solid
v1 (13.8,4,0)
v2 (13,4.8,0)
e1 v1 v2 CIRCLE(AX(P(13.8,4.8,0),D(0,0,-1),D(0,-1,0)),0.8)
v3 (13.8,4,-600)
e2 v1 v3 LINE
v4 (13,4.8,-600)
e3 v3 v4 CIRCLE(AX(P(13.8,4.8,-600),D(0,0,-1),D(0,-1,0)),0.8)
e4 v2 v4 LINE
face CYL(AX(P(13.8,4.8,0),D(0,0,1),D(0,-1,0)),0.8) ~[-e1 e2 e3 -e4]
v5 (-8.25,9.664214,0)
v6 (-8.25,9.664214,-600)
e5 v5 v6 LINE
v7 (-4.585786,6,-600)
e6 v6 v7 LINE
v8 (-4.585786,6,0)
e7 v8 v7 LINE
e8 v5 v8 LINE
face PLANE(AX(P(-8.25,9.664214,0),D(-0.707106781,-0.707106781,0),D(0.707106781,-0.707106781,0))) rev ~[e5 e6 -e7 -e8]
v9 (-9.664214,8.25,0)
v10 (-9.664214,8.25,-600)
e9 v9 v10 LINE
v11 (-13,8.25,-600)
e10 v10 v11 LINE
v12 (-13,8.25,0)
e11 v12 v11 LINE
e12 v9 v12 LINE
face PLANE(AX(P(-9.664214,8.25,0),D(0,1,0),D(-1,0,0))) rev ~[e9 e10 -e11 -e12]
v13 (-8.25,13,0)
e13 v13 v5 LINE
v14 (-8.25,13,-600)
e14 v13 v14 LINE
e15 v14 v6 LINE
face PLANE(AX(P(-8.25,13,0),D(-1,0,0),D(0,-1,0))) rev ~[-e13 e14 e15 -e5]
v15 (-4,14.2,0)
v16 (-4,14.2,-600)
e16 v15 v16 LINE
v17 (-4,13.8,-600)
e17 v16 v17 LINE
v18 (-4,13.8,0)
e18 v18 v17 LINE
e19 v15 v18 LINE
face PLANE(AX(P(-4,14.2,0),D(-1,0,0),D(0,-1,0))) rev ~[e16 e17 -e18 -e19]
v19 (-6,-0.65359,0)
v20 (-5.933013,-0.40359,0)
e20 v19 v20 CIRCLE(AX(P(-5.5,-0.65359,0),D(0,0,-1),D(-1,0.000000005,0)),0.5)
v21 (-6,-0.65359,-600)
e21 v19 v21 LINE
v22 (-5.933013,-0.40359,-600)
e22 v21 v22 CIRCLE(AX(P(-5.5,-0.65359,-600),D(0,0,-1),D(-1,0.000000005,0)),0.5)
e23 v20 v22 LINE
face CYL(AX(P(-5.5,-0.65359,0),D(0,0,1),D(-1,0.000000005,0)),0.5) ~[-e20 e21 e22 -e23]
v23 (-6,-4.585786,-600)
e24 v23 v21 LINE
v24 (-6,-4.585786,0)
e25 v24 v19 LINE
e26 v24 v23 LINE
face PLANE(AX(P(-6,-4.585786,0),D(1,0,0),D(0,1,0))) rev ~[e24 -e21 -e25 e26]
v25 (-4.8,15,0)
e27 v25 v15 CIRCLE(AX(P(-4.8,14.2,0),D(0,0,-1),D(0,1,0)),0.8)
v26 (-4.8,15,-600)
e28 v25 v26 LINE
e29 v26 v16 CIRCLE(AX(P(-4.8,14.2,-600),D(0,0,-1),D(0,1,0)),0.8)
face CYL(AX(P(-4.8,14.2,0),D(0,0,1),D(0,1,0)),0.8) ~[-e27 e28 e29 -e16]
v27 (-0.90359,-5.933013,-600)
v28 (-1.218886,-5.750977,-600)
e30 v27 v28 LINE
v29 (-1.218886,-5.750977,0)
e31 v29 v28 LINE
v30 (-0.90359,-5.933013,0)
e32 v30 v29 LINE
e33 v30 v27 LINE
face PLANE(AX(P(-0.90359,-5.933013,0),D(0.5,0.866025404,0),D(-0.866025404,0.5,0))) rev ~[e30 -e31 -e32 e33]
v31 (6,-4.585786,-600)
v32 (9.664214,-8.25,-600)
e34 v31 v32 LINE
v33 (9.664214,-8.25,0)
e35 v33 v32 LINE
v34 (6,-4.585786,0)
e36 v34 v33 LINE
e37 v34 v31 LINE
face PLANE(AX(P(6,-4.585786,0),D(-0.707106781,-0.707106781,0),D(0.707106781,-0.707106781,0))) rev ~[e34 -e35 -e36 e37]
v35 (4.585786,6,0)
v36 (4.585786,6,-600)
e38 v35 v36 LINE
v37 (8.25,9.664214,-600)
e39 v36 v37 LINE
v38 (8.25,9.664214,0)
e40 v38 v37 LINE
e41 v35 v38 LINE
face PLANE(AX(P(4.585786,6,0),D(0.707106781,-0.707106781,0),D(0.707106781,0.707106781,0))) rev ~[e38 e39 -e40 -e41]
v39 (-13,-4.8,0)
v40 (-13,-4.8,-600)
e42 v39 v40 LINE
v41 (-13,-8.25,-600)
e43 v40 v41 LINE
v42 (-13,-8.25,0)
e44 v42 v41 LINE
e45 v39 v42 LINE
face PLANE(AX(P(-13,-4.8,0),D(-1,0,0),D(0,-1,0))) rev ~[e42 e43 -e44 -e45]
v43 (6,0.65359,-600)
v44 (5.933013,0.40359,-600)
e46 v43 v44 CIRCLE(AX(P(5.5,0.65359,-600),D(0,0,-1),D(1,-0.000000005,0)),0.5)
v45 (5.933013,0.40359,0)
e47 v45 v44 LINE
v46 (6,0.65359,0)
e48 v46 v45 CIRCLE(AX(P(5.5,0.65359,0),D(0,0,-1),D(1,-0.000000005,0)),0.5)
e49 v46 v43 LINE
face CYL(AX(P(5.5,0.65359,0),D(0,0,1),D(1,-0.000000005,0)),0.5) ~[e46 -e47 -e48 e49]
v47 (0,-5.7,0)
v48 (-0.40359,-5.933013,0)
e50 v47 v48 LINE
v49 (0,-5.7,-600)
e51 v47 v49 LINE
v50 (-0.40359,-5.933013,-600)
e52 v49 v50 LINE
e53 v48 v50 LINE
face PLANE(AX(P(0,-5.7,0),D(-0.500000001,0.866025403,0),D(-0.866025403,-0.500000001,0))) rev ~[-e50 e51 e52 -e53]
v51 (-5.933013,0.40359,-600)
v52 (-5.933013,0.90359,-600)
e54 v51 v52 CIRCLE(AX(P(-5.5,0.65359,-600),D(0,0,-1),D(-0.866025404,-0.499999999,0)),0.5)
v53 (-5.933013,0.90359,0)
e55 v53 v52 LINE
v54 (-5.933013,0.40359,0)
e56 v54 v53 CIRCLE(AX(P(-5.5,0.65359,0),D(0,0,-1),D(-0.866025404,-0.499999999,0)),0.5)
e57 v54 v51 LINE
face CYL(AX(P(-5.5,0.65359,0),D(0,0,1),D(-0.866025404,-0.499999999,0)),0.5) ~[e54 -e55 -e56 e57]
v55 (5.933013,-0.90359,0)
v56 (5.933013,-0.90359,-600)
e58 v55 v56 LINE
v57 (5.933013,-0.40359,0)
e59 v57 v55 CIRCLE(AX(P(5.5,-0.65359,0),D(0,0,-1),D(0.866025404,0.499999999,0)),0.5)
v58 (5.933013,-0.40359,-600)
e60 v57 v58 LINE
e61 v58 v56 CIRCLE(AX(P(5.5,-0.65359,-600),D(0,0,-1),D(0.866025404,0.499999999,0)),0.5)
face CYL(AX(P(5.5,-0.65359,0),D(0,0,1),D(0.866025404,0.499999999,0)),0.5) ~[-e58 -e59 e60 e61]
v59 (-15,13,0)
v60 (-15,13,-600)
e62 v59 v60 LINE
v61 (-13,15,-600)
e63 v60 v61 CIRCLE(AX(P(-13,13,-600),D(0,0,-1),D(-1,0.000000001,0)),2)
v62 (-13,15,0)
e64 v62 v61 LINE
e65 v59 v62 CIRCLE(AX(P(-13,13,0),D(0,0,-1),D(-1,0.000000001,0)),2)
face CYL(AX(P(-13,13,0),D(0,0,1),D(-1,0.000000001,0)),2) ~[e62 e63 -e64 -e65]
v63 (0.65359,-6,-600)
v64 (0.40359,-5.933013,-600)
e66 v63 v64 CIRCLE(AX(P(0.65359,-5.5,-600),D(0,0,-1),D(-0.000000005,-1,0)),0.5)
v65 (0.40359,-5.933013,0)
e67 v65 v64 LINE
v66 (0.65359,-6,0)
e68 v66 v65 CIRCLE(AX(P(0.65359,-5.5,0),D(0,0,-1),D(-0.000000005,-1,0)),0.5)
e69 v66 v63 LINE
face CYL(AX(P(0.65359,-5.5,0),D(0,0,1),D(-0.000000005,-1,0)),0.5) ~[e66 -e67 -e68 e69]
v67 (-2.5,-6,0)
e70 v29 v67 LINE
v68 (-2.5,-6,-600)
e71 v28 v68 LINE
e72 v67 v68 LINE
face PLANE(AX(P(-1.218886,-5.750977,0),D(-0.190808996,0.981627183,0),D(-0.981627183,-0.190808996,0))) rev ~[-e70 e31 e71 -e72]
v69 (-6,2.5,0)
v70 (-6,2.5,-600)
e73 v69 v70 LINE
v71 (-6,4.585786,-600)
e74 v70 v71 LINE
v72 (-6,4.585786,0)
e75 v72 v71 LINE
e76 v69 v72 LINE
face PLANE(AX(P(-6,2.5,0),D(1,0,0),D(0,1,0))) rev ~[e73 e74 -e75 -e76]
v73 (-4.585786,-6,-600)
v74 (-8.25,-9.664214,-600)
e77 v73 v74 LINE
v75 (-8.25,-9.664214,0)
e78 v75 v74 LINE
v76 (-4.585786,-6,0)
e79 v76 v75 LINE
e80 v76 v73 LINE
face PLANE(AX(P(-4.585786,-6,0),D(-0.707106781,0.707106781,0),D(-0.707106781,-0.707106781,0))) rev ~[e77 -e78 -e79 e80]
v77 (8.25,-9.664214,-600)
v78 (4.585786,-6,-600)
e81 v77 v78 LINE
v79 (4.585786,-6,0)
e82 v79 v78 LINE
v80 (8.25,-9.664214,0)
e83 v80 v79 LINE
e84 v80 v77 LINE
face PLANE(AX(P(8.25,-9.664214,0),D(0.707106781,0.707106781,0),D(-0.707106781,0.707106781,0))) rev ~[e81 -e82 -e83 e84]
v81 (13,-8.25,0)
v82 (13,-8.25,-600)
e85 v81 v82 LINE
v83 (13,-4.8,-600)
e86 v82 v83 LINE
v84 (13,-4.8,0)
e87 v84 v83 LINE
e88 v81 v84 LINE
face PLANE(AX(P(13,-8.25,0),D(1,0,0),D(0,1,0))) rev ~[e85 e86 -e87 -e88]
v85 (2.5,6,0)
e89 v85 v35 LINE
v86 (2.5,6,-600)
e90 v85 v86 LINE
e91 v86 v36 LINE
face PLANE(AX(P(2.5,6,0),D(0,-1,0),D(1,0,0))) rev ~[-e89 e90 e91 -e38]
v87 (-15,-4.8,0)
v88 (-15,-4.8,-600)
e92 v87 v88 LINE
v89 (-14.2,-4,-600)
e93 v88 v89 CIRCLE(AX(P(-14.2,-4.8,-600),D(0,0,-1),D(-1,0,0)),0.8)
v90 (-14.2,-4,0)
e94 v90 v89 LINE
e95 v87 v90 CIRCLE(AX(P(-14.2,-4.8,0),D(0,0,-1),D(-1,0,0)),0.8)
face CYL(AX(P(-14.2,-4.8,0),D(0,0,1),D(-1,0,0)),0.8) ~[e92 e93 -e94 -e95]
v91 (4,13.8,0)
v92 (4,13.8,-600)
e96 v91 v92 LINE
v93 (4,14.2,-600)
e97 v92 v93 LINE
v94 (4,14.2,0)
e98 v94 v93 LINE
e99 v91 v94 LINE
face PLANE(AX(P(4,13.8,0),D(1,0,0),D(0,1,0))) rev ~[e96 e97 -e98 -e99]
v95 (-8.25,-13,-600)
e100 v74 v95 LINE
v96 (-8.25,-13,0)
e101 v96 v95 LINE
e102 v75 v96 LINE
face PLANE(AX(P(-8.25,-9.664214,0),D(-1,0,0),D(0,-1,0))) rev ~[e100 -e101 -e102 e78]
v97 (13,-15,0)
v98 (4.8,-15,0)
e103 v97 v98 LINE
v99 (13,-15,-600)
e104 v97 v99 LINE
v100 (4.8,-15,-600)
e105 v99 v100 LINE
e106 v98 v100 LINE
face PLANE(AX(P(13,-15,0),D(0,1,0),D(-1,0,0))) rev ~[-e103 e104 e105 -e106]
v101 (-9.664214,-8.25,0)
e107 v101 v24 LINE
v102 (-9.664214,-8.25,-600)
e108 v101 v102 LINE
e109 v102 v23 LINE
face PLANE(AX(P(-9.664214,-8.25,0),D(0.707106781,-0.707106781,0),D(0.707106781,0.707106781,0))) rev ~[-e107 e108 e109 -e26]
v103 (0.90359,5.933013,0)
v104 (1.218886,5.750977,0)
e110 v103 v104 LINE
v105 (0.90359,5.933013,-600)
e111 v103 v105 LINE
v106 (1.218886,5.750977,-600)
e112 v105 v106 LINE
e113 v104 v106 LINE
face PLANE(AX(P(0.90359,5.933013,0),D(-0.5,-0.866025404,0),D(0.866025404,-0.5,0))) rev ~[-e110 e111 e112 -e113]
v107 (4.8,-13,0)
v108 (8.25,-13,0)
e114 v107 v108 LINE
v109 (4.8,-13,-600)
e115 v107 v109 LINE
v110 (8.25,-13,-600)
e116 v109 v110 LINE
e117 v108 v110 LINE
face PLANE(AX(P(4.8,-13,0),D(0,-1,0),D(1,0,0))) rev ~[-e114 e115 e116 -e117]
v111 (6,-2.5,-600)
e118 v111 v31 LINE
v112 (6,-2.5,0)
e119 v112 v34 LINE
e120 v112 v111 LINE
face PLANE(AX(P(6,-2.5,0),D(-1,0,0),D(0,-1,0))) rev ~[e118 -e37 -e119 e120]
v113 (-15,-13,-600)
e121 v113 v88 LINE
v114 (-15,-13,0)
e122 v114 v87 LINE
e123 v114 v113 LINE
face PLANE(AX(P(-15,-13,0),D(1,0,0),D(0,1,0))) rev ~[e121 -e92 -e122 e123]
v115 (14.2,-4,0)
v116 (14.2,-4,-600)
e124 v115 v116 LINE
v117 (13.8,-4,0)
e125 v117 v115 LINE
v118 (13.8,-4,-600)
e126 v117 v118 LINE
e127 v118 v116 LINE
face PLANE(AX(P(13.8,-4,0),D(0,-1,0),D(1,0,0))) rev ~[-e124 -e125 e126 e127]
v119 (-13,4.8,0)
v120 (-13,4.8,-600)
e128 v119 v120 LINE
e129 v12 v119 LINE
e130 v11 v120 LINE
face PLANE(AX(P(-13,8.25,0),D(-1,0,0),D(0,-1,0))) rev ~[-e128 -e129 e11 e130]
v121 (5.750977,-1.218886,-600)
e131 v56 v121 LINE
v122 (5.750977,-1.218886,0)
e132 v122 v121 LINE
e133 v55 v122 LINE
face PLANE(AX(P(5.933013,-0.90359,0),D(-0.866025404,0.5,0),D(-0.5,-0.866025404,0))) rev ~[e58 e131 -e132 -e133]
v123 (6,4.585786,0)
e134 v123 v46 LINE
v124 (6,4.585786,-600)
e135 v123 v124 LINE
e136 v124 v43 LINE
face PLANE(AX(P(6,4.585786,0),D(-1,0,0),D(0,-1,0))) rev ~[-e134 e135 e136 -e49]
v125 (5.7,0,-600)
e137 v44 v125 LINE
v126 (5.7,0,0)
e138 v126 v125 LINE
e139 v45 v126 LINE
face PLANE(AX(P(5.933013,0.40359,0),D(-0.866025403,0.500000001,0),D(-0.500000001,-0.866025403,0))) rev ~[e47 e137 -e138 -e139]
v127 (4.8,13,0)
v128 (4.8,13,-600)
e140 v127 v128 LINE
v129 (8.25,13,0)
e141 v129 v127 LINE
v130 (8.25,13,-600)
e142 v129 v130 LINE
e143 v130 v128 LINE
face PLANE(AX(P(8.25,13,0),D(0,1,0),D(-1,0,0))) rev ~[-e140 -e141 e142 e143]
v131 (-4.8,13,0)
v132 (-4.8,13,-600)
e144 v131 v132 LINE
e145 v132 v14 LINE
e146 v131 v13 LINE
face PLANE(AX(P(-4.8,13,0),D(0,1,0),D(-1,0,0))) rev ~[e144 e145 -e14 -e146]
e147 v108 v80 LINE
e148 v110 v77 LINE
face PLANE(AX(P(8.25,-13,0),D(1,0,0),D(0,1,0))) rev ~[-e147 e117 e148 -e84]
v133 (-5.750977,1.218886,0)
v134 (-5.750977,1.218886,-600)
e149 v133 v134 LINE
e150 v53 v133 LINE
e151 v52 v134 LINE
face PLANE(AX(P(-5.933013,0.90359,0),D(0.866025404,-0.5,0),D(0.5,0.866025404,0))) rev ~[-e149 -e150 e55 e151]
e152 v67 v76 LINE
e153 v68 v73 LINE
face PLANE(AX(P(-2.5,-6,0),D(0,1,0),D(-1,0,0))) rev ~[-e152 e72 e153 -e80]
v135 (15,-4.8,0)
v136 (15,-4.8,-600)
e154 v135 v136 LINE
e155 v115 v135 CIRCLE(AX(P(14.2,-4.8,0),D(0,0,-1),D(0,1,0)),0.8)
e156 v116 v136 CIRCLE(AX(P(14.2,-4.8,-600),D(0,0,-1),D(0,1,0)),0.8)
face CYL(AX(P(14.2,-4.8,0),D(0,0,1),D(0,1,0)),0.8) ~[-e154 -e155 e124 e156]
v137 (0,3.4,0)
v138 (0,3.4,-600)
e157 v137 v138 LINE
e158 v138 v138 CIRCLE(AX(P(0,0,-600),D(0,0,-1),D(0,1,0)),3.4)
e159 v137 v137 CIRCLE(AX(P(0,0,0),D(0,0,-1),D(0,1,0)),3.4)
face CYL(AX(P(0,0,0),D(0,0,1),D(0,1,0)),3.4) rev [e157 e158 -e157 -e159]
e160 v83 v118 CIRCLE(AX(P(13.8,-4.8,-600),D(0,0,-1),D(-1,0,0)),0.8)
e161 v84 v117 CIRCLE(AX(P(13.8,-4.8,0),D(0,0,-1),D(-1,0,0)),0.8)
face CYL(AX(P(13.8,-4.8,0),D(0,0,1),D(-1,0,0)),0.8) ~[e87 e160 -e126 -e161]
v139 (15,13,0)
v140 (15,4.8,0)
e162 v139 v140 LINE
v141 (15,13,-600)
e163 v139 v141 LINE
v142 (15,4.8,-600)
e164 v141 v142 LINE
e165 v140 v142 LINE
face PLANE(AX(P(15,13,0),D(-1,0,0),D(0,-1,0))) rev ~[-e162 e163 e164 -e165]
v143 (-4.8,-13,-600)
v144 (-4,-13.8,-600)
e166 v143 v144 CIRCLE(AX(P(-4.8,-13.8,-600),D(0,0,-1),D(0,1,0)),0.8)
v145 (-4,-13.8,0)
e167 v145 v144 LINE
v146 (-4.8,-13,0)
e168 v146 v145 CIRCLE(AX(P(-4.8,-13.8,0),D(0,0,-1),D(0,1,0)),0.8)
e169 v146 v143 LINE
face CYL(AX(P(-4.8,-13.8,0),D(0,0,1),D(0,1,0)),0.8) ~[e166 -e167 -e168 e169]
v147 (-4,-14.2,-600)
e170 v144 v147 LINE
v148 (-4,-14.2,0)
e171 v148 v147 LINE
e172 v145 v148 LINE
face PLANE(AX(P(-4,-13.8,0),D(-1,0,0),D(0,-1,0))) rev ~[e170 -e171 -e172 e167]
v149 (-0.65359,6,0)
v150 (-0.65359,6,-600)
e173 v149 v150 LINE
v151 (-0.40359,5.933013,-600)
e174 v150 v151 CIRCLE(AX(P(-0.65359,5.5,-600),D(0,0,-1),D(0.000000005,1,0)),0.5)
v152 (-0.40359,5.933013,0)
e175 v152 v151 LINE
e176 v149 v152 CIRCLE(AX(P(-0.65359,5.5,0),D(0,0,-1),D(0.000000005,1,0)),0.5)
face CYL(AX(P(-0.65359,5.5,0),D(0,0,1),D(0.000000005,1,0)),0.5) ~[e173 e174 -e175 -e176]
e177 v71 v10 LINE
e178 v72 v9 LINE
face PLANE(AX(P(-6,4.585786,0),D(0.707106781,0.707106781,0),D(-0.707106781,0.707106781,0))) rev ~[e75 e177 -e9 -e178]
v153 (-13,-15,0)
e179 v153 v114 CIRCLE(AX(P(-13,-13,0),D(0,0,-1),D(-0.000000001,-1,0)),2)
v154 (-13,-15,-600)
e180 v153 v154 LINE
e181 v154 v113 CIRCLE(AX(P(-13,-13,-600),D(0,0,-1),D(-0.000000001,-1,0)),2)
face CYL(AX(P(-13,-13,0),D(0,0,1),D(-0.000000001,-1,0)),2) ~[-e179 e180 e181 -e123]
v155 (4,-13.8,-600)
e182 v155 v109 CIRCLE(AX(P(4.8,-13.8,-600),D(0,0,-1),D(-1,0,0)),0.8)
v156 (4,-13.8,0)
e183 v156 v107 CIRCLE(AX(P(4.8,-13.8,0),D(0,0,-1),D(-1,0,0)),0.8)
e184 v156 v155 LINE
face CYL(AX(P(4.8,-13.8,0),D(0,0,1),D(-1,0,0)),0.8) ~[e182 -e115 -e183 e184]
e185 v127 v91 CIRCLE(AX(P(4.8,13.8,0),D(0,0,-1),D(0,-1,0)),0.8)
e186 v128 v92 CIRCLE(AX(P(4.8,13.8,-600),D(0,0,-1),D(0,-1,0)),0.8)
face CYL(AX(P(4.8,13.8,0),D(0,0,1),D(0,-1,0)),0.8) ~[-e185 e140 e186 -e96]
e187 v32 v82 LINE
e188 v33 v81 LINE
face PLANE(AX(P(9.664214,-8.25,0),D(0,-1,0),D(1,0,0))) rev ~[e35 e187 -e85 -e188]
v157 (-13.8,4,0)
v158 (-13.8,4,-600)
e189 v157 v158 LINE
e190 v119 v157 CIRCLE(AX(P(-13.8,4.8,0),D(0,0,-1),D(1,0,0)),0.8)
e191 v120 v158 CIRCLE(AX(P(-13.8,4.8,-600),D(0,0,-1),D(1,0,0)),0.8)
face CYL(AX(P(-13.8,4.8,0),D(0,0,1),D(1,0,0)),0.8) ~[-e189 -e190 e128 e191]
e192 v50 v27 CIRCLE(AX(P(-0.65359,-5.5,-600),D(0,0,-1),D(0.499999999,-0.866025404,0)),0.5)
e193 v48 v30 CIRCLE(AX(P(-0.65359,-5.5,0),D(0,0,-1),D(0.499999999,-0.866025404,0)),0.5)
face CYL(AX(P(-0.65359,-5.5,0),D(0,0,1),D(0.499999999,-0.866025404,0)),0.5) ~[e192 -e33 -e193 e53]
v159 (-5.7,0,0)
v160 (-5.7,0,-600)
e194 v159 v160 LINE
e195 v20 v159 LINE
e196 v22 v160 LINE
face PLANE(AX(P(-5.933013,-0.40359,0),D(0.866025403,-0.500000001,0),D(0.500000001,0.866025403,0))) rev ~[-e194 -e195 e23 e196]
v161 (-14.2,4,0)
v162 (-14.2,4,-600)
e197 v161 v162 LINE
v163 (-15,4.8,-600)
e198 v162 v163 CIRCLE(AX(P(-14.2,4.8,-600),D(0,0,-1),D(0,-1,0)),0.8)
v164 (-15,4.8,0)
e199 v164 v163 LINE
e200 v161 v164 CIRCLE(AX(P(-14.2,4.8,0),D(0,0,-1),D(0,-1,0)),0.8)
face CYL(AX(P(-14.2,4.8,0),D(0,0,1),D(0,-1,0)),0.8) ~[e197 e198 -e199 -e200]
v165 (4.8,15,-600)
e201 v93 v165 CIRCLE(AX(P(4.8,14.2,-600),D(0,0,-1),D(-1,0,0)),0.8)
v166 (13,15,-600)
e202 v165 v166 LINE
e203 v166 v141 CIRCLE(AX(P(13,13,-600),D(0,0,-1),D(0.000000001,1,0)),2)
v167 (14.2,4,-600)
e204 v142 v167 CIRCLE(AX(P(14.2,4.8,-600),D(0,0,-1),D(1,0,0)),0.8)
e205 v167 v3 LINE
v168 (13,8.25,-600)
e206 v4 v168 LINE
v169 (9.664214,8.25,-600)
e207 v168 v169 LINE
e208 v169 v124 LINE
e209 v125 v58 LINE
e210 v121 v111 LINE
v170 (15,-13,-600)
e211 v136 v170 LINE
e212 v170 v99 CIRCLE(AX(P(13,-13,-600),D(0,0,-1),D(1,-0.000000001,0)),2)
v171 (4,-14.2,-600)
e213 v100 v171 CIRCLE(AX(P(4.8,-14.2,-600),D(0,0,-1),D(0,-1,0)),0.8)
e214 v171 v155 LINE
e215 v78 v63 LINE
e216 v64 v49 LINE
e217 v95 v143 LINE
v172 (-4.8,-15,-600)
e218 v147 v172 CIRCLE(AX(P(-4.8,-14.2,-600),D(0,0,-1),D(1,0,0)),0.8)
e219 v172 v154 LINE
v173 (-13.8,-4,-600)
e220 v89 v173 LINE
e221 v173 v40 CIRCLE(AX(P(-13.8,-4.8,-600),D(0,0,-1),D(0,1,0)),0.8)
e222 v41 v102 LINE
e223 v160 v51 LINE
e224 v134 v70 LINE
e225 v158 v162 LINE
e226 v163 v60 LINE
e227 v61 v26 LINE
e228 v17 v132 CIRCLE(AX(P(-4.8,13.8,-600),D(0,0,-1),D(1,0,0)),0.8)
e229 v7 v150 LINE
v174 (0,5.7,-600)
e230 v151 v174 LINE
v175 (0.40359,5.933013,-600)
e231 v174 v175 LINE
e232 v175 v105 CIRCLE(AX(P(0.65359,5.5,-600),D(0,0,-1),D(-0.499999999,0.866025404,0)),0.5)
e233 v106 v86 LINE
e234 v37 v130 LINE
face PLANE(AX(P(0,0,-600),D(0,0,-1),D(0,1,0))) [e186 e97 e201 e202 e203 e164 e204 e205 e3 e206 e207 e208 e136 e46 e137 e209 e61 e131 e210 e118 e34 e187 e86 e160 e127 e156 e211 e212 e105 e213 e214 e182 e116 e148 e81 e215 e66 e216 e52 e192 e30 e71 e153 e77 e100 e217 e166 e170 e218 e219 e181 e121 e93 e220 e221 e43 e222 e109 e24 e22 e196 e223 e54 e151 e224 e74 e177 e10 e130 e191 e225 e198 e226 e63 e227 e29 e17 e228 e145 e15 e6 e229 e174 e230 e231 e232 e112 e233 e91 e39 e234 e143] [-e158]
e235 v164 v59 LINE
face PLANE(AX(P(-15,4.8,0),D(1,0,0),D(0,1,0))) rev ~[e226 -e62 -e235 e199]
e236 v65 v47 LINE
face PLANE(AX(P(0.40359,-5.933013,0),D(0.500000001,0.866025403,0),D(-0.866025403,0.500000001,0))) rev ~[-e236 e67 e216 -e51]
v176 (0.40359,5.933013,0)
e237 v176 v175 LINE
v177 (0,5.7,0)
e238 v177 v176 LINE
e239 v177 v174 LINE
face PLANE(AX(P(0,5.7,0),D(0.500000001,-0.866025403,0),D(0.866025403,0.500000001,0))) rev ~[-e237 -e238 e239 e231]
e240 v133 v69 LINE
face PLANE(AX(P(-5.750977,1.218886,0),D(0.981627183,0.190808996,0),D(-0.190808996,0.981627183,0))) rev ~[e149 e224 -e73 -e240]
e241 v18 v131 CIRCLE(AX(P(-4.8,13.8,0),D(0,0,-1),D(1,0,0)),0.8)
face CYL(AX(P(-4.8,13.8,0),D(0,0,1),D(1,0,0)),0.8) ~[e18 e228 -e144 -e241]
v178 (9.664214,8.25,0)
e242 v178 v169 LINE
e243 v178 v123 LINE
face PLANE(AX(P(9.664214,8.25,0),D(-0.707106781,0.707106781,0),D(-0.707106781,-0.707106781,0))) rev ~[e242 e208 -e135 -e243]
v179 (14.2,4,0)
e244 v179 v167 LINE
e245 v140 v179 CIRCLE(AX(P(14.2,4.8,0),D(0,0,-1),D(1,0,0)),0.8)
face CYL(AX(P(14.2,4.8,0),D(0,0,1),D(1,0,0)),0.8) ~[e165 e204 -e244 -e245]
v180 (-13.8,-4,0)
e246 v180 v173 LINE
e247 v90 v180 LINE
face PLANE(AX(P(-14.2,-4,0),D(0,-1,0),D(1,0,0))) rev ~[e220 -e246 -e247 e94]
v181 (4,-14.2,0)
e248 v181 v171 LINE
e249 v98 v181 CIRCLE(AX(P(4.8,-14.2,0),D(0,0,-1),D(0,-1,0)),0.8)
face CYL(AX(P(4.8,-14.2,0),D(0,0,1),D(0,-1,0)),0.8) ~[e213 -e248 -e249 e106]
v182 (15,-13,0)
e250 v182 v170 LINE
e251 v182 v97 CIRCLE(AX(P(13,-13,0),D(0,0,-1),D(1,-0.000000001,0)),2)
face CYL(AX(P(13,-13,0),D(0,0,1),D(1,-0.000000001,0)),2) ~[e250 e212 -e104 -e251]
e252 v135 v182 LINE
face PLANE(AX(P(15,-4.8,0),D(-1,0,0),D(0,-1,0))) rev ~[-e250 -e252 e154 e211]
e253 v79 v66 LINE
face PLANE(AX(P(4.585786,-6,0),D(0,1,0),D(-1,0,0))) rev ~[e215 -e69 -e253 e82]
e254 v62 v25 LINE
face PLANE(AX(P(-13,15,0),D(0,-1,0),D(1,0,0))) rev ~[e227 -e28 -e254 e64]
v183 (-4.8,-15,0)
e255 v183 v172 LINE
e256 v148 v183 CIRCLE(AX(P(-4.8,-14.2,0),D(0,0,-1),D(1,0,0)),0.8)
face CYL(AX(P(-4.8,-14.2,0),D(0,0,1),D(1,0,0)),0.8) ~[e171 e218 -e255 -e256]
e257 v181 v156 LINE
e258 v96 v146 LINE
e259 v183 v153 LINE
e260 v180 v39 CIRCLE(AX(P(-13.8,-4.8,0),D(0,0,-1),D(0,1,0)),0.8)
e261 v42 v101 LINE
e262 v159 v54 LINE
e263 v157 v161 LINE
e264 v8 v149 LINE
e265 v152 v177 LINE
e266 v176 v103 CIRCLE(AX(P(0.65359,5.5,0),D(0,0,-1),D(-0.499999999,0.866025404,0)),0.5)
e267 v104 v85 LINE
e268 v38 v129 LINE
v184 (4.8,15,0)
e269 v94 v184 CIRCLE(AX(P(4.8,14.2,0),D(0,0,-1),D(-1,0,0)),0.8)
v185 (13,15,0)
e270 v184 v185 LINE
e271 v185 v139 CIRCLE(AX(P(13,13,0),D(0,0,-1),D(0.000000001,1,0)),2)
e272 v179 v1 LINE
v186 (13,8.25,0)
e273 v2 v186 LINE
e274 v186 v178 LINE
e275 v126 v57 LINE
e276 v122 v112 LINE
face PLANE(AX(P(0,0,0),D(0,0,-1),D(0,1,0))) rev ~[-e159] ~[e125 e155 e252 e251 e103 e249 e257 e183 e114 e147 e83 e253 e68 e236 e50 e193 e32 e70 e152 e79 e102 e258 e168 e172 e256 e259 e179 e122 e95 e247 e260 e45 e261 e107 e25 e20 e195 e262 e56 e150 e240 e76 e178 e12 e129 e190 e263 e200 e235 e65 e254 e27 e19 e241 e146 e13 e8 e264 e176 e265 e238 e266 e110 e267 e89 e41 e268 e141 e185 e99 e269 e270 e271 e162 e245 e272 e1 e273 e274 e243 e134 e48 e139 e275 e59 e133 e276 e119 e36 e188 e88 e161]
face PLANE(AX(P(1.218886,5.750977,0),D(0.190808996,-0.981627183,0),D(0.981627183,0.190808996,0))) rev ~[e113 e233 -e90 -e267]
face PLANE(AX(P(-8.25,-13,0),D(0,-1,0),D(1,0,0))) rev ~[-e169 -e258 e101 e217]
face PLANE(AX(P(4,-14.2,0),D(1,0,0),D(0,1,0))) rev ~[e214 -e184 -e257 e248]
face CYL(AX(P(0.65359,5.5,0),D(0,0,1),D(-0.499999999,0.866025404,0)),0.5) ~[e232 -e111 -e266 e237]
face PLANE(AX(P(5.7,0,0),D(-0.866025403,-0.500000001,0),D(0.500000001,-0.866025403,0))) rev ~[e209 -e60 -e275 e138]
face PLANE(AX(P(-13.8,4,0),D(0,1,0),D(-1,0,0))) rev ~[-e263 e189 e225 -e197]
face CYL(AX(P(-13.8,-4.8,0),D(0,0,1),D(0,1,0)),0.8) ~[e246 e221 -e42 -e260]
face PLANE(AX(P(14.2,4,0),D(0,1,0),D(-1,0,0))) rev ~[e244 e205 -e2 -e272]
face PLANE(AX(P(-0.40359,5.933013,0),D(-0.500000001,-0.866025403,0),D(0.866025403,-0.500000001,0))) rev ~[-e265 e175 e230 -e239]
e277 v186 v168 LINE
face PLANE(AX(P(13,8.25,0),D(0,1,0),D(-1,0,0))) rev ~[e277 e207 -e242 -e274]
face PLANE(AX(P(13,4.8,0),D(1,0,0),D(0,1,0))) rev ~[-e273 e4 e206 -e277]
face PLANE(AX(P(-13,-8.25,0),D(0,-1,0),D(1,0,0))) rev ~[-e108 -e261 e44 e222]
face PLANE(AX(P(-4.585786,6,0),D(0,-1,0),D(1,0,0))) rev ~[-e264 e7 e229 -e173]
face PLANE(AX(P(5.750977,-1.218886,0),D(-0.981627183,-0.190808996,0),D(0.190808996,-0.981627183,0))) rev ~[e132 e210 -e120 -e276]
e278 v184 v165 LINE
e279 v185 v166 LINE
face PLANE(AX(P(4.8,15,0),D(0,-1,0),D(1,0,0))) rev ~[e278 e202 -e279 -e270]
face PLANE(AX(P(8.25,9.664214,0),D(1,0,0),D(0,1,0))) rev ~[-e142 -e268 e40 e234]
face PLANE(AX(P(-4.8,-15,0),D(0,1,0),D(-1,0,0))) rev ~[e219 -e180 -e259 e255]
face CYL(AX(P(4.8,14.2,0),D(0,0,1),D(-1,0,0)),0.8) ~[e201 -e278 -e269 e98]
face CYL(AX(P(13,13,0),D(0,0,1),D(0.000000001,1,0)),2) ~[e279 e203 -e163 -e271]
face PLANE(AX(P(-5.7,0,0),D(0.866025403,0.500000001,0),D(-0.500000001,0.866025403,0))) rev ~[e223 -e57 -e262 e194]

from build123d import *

# Parameters (mm, degrees)
SKETCH_11_R            = 3.4
F_30_X_30_X_R2_1_DEPTH = 600


with BuildPart() as part:
    # 草图11 → 铝型材 30 X 30 X R2(1) (new body)
    with BuildSketch(Plane.YX):
        with BuildLine():
            Line((-15, -4.8), (-15, -13))
            ThreePointArc((-15, -13), (-14.414213562, -14.414213562), (-13, -15))
            Line((-13, -15), (-4.8, -15))
            ThreePointArc((-4.8, -15), (-4.234314575, -14.765685425), (-4, -14.2))
            Line((-4, -14.2), (-4, -13.8))
            ThreePointArc((-4, -13.8), (-4.234314575, -13.234314575), (-4.8, -13))
            Line((-4.8, -13), (-8.25, -13))
            Line((-8.25, -13), (-8.25, -9.664213562))
            Line((-8.25, -9.664213562), (-4.585786438, -6))
            Line((-4.585786438, -6), (-0.653589838, -6))
            ThreePointArc((-0.653589838, -6), (-0.524180316, -5.982962913), (-0.403589838, -5.933012702))
            Line((-0.403589838, -5.933012702), (0, -5.7))
            Line((0, -5.7), (0.403589838, -5.933012702))
            ThreePointArc((0.403589838, -5.933012702), (0.653589838, -6), (0.903589838, -5.933012702))
            Line((0.903589838, -5.933012702), (1.218885629, -5.750976592))
            Line((1.218885629, -5.750976592), (2.5, -6))
            Line((2.5, -6), (4.585786438, -6))
            Line((4.585786438, -6), (8.25, -9.664213562))
            Line((8.25, -9.664213562), (8.25, -13))
            Line((8.25, -13), (4.8, -13))
            ThreePointArc((4.8, -13), (4.234314575, -13.234314575), (4, -13.8))
            Line((4, -13.8), (4, -14.2))
            ThreePointArc((4, -14.2), (4.234314575, -14.765685425), (4.8, -15))
            Line((4.8, -15), (13, -15))
            ThreePointArc((13, -15), (14.414213562, -14.414213562), (15, -13))
            Line((15, -13), (15, -4.8))
            ThreePointArc((15, -4.8), (14.765685425, -4.234314575), (14.2, -4))
            Line((14.2, -4), (13.8, -4))
            ThreePointArc((13.8, -4), (13.234314575, -4.234314575), (13, -4.8))
            Line((13, -4.8), (13, -8.25))
            Line((13, -8.25), (9.664213562, -8.25))
            Line((9.664213562, -8.25), (6, -4.585786438))
            Line((6, -4.585786438), (6, -0.653589838))
            ThreePointArc((6, -0.653589838), (5.982962913, -0.524180316), (5.933012702, -0.403589838))
            Line((5.933012702, -0.403589838), (5.7, 0))
            Line((5.7, 0), (5.933012702, 0.403589838))
            ThreePointArc((5.933012702, 0.403589838), (6, 0.653589838), (5.933012702, 0.903589838))
            Line((5.933012702, 0.903589838), (5.750976592, 1.218885629))
            Line((5.750976592, 1.218885629), (6, 2.5))
            Line((6, 2.5), (6, 4.585786438))
            Line((6, 4.585786438), (9.664213562, 8.25))
            Line((9.664213562, 8.25), (13, 8.25))
            Line((13, 8.25), (13, 4.8))
            ThreePointArc((13, 4.8), (13.234314575, 4.234314575), (13.8, 4))
            Line((13.8, 4), (14.2, 4))
            ThreePointArc((14.2, 4), (14.765685425, 4.234314575), (15, 4.8))
            Line((15, 4.8), (15, 13))
            ThreePointArc((15, 13), (14.414213562, 14.414213562), (13, 15))
            Line((13, 15), (4.8, 15))
            ThreePointArc((4.8, 15), (4.234314575, 14.765685425), (4, 14.2))
            Line((4, 14.2), (4, 13.8))
            ThreePointArc((4, 13.8), (4.234314575, 13.234314575), (4.8, 13))
            Line((4.8, 13), (8.25, 13))
            Line((8.25, 13), (8.25, 9.664213562))
            Line((8.25, 9.664213562), (4.585786438, 6))
            Line((4.585786438, 6), (0.653589838, 6))
            ThreePointArc((0.653589838, 6), (0.524180316, 5.982962913), (0.403589838, 5.933012702))
            Line((0.403589838, 5.933012702), (0, 5.7))
            Line((0, 5.7), (-0.403589838, 5.933012702))
            ThreePointArc((-0.403589838, 5.933012702), (-0.653589838, 6), (-0.903589838, 5.933012702))
            Line((-0.903589838, 5.933012702), (-1.218885629, 5.750976592))
            Line((-1.218885629, 5.750976592), (-2.5, 6))
            Line((-2.5, 6), (-4.585786438, 6))
            Line((-4.585786438, 6), (-8.25, 9.664213562))
            Line((-8.25, 9.664213562), (-8.25, 13))
            Line((-8.25, 13), (-4.8, 13))
            ThreePointArc((-4.8, 13), (-4.234314575, 13.234314575), (-4, 13.8))
            Line((-4, 13.8), (-4, 14.2))
            ThreePointArc((-4, 14.2), (-4.234314575, 14.765685425), (-4.8, 15))
            Line((-4.8, 15), (-13, 15))
            ThreePointArc((-13, 15), (-14.414213562, 14.414213562), (-15, 13))
            Line((-15, 13), (-15, 4.8))
            ThreePointArc((-15, 4.8), (-14.765685425, 4.234314575), (-14.2, 4))
            Line((-14.2, 4), (-13.8, 4))
            ThreePointArc((-13.8, 4), (-13.234314575, 4.234314575), (-13, 4.8))
            Line((-13, 4.8), (-13, 8.25))
            Line((-13, 8.25), (-9.664213562, 8.25))
            Line((-9.664213562, 8.25), (-6, 4.585786438))
            Line((-6, 4.585786438), (-6, 0.653589838))
            ThreePointArc((-6, 0.653589838), (-5.982962913, 0.524180316), (-5.933012702, 0.403589838))
            Line((-5.933012702, 0.403589838), (-5.7, 0))
            Line((-5.7, 0), (-5.933012702, -0.403589838))
            ThreePointArc((-5.933012702, -0.403589838), (-6, -0.653589838), (-5.933012702, -0.903589838))
            Line((-5.933012702, -0.903589838), (-5.750976592, -1.218885629))
            Line((-5.750976592, -1.218885629), (-6, -2.5))
            Line((-6, -2.5), (-6, -4.585786438))
            Line((-6, -4.585786438), (-9.664213562, -8.25))
            Line((-9.664213562, -8.25), (-13, -8.25))
            Line((-13, -8.25), (-13, -4.8))
            ThreePointArc((-13, -4.8), (-13.234314575, -4.234314575), (-13.8, -4))
            Line((-13.8, -4), (-14.2, -4))
            ThreePointArc((-14.2, -4), (-14.765685425, -4.234314575), (-15, -4.8))
        make_face()
        Circle(SKETCH_11_R, mode=Mode.SUBTRACT)
    extrude(amount=F_30_X_30_X_R2_1_DEPTH)


solid = part.part
